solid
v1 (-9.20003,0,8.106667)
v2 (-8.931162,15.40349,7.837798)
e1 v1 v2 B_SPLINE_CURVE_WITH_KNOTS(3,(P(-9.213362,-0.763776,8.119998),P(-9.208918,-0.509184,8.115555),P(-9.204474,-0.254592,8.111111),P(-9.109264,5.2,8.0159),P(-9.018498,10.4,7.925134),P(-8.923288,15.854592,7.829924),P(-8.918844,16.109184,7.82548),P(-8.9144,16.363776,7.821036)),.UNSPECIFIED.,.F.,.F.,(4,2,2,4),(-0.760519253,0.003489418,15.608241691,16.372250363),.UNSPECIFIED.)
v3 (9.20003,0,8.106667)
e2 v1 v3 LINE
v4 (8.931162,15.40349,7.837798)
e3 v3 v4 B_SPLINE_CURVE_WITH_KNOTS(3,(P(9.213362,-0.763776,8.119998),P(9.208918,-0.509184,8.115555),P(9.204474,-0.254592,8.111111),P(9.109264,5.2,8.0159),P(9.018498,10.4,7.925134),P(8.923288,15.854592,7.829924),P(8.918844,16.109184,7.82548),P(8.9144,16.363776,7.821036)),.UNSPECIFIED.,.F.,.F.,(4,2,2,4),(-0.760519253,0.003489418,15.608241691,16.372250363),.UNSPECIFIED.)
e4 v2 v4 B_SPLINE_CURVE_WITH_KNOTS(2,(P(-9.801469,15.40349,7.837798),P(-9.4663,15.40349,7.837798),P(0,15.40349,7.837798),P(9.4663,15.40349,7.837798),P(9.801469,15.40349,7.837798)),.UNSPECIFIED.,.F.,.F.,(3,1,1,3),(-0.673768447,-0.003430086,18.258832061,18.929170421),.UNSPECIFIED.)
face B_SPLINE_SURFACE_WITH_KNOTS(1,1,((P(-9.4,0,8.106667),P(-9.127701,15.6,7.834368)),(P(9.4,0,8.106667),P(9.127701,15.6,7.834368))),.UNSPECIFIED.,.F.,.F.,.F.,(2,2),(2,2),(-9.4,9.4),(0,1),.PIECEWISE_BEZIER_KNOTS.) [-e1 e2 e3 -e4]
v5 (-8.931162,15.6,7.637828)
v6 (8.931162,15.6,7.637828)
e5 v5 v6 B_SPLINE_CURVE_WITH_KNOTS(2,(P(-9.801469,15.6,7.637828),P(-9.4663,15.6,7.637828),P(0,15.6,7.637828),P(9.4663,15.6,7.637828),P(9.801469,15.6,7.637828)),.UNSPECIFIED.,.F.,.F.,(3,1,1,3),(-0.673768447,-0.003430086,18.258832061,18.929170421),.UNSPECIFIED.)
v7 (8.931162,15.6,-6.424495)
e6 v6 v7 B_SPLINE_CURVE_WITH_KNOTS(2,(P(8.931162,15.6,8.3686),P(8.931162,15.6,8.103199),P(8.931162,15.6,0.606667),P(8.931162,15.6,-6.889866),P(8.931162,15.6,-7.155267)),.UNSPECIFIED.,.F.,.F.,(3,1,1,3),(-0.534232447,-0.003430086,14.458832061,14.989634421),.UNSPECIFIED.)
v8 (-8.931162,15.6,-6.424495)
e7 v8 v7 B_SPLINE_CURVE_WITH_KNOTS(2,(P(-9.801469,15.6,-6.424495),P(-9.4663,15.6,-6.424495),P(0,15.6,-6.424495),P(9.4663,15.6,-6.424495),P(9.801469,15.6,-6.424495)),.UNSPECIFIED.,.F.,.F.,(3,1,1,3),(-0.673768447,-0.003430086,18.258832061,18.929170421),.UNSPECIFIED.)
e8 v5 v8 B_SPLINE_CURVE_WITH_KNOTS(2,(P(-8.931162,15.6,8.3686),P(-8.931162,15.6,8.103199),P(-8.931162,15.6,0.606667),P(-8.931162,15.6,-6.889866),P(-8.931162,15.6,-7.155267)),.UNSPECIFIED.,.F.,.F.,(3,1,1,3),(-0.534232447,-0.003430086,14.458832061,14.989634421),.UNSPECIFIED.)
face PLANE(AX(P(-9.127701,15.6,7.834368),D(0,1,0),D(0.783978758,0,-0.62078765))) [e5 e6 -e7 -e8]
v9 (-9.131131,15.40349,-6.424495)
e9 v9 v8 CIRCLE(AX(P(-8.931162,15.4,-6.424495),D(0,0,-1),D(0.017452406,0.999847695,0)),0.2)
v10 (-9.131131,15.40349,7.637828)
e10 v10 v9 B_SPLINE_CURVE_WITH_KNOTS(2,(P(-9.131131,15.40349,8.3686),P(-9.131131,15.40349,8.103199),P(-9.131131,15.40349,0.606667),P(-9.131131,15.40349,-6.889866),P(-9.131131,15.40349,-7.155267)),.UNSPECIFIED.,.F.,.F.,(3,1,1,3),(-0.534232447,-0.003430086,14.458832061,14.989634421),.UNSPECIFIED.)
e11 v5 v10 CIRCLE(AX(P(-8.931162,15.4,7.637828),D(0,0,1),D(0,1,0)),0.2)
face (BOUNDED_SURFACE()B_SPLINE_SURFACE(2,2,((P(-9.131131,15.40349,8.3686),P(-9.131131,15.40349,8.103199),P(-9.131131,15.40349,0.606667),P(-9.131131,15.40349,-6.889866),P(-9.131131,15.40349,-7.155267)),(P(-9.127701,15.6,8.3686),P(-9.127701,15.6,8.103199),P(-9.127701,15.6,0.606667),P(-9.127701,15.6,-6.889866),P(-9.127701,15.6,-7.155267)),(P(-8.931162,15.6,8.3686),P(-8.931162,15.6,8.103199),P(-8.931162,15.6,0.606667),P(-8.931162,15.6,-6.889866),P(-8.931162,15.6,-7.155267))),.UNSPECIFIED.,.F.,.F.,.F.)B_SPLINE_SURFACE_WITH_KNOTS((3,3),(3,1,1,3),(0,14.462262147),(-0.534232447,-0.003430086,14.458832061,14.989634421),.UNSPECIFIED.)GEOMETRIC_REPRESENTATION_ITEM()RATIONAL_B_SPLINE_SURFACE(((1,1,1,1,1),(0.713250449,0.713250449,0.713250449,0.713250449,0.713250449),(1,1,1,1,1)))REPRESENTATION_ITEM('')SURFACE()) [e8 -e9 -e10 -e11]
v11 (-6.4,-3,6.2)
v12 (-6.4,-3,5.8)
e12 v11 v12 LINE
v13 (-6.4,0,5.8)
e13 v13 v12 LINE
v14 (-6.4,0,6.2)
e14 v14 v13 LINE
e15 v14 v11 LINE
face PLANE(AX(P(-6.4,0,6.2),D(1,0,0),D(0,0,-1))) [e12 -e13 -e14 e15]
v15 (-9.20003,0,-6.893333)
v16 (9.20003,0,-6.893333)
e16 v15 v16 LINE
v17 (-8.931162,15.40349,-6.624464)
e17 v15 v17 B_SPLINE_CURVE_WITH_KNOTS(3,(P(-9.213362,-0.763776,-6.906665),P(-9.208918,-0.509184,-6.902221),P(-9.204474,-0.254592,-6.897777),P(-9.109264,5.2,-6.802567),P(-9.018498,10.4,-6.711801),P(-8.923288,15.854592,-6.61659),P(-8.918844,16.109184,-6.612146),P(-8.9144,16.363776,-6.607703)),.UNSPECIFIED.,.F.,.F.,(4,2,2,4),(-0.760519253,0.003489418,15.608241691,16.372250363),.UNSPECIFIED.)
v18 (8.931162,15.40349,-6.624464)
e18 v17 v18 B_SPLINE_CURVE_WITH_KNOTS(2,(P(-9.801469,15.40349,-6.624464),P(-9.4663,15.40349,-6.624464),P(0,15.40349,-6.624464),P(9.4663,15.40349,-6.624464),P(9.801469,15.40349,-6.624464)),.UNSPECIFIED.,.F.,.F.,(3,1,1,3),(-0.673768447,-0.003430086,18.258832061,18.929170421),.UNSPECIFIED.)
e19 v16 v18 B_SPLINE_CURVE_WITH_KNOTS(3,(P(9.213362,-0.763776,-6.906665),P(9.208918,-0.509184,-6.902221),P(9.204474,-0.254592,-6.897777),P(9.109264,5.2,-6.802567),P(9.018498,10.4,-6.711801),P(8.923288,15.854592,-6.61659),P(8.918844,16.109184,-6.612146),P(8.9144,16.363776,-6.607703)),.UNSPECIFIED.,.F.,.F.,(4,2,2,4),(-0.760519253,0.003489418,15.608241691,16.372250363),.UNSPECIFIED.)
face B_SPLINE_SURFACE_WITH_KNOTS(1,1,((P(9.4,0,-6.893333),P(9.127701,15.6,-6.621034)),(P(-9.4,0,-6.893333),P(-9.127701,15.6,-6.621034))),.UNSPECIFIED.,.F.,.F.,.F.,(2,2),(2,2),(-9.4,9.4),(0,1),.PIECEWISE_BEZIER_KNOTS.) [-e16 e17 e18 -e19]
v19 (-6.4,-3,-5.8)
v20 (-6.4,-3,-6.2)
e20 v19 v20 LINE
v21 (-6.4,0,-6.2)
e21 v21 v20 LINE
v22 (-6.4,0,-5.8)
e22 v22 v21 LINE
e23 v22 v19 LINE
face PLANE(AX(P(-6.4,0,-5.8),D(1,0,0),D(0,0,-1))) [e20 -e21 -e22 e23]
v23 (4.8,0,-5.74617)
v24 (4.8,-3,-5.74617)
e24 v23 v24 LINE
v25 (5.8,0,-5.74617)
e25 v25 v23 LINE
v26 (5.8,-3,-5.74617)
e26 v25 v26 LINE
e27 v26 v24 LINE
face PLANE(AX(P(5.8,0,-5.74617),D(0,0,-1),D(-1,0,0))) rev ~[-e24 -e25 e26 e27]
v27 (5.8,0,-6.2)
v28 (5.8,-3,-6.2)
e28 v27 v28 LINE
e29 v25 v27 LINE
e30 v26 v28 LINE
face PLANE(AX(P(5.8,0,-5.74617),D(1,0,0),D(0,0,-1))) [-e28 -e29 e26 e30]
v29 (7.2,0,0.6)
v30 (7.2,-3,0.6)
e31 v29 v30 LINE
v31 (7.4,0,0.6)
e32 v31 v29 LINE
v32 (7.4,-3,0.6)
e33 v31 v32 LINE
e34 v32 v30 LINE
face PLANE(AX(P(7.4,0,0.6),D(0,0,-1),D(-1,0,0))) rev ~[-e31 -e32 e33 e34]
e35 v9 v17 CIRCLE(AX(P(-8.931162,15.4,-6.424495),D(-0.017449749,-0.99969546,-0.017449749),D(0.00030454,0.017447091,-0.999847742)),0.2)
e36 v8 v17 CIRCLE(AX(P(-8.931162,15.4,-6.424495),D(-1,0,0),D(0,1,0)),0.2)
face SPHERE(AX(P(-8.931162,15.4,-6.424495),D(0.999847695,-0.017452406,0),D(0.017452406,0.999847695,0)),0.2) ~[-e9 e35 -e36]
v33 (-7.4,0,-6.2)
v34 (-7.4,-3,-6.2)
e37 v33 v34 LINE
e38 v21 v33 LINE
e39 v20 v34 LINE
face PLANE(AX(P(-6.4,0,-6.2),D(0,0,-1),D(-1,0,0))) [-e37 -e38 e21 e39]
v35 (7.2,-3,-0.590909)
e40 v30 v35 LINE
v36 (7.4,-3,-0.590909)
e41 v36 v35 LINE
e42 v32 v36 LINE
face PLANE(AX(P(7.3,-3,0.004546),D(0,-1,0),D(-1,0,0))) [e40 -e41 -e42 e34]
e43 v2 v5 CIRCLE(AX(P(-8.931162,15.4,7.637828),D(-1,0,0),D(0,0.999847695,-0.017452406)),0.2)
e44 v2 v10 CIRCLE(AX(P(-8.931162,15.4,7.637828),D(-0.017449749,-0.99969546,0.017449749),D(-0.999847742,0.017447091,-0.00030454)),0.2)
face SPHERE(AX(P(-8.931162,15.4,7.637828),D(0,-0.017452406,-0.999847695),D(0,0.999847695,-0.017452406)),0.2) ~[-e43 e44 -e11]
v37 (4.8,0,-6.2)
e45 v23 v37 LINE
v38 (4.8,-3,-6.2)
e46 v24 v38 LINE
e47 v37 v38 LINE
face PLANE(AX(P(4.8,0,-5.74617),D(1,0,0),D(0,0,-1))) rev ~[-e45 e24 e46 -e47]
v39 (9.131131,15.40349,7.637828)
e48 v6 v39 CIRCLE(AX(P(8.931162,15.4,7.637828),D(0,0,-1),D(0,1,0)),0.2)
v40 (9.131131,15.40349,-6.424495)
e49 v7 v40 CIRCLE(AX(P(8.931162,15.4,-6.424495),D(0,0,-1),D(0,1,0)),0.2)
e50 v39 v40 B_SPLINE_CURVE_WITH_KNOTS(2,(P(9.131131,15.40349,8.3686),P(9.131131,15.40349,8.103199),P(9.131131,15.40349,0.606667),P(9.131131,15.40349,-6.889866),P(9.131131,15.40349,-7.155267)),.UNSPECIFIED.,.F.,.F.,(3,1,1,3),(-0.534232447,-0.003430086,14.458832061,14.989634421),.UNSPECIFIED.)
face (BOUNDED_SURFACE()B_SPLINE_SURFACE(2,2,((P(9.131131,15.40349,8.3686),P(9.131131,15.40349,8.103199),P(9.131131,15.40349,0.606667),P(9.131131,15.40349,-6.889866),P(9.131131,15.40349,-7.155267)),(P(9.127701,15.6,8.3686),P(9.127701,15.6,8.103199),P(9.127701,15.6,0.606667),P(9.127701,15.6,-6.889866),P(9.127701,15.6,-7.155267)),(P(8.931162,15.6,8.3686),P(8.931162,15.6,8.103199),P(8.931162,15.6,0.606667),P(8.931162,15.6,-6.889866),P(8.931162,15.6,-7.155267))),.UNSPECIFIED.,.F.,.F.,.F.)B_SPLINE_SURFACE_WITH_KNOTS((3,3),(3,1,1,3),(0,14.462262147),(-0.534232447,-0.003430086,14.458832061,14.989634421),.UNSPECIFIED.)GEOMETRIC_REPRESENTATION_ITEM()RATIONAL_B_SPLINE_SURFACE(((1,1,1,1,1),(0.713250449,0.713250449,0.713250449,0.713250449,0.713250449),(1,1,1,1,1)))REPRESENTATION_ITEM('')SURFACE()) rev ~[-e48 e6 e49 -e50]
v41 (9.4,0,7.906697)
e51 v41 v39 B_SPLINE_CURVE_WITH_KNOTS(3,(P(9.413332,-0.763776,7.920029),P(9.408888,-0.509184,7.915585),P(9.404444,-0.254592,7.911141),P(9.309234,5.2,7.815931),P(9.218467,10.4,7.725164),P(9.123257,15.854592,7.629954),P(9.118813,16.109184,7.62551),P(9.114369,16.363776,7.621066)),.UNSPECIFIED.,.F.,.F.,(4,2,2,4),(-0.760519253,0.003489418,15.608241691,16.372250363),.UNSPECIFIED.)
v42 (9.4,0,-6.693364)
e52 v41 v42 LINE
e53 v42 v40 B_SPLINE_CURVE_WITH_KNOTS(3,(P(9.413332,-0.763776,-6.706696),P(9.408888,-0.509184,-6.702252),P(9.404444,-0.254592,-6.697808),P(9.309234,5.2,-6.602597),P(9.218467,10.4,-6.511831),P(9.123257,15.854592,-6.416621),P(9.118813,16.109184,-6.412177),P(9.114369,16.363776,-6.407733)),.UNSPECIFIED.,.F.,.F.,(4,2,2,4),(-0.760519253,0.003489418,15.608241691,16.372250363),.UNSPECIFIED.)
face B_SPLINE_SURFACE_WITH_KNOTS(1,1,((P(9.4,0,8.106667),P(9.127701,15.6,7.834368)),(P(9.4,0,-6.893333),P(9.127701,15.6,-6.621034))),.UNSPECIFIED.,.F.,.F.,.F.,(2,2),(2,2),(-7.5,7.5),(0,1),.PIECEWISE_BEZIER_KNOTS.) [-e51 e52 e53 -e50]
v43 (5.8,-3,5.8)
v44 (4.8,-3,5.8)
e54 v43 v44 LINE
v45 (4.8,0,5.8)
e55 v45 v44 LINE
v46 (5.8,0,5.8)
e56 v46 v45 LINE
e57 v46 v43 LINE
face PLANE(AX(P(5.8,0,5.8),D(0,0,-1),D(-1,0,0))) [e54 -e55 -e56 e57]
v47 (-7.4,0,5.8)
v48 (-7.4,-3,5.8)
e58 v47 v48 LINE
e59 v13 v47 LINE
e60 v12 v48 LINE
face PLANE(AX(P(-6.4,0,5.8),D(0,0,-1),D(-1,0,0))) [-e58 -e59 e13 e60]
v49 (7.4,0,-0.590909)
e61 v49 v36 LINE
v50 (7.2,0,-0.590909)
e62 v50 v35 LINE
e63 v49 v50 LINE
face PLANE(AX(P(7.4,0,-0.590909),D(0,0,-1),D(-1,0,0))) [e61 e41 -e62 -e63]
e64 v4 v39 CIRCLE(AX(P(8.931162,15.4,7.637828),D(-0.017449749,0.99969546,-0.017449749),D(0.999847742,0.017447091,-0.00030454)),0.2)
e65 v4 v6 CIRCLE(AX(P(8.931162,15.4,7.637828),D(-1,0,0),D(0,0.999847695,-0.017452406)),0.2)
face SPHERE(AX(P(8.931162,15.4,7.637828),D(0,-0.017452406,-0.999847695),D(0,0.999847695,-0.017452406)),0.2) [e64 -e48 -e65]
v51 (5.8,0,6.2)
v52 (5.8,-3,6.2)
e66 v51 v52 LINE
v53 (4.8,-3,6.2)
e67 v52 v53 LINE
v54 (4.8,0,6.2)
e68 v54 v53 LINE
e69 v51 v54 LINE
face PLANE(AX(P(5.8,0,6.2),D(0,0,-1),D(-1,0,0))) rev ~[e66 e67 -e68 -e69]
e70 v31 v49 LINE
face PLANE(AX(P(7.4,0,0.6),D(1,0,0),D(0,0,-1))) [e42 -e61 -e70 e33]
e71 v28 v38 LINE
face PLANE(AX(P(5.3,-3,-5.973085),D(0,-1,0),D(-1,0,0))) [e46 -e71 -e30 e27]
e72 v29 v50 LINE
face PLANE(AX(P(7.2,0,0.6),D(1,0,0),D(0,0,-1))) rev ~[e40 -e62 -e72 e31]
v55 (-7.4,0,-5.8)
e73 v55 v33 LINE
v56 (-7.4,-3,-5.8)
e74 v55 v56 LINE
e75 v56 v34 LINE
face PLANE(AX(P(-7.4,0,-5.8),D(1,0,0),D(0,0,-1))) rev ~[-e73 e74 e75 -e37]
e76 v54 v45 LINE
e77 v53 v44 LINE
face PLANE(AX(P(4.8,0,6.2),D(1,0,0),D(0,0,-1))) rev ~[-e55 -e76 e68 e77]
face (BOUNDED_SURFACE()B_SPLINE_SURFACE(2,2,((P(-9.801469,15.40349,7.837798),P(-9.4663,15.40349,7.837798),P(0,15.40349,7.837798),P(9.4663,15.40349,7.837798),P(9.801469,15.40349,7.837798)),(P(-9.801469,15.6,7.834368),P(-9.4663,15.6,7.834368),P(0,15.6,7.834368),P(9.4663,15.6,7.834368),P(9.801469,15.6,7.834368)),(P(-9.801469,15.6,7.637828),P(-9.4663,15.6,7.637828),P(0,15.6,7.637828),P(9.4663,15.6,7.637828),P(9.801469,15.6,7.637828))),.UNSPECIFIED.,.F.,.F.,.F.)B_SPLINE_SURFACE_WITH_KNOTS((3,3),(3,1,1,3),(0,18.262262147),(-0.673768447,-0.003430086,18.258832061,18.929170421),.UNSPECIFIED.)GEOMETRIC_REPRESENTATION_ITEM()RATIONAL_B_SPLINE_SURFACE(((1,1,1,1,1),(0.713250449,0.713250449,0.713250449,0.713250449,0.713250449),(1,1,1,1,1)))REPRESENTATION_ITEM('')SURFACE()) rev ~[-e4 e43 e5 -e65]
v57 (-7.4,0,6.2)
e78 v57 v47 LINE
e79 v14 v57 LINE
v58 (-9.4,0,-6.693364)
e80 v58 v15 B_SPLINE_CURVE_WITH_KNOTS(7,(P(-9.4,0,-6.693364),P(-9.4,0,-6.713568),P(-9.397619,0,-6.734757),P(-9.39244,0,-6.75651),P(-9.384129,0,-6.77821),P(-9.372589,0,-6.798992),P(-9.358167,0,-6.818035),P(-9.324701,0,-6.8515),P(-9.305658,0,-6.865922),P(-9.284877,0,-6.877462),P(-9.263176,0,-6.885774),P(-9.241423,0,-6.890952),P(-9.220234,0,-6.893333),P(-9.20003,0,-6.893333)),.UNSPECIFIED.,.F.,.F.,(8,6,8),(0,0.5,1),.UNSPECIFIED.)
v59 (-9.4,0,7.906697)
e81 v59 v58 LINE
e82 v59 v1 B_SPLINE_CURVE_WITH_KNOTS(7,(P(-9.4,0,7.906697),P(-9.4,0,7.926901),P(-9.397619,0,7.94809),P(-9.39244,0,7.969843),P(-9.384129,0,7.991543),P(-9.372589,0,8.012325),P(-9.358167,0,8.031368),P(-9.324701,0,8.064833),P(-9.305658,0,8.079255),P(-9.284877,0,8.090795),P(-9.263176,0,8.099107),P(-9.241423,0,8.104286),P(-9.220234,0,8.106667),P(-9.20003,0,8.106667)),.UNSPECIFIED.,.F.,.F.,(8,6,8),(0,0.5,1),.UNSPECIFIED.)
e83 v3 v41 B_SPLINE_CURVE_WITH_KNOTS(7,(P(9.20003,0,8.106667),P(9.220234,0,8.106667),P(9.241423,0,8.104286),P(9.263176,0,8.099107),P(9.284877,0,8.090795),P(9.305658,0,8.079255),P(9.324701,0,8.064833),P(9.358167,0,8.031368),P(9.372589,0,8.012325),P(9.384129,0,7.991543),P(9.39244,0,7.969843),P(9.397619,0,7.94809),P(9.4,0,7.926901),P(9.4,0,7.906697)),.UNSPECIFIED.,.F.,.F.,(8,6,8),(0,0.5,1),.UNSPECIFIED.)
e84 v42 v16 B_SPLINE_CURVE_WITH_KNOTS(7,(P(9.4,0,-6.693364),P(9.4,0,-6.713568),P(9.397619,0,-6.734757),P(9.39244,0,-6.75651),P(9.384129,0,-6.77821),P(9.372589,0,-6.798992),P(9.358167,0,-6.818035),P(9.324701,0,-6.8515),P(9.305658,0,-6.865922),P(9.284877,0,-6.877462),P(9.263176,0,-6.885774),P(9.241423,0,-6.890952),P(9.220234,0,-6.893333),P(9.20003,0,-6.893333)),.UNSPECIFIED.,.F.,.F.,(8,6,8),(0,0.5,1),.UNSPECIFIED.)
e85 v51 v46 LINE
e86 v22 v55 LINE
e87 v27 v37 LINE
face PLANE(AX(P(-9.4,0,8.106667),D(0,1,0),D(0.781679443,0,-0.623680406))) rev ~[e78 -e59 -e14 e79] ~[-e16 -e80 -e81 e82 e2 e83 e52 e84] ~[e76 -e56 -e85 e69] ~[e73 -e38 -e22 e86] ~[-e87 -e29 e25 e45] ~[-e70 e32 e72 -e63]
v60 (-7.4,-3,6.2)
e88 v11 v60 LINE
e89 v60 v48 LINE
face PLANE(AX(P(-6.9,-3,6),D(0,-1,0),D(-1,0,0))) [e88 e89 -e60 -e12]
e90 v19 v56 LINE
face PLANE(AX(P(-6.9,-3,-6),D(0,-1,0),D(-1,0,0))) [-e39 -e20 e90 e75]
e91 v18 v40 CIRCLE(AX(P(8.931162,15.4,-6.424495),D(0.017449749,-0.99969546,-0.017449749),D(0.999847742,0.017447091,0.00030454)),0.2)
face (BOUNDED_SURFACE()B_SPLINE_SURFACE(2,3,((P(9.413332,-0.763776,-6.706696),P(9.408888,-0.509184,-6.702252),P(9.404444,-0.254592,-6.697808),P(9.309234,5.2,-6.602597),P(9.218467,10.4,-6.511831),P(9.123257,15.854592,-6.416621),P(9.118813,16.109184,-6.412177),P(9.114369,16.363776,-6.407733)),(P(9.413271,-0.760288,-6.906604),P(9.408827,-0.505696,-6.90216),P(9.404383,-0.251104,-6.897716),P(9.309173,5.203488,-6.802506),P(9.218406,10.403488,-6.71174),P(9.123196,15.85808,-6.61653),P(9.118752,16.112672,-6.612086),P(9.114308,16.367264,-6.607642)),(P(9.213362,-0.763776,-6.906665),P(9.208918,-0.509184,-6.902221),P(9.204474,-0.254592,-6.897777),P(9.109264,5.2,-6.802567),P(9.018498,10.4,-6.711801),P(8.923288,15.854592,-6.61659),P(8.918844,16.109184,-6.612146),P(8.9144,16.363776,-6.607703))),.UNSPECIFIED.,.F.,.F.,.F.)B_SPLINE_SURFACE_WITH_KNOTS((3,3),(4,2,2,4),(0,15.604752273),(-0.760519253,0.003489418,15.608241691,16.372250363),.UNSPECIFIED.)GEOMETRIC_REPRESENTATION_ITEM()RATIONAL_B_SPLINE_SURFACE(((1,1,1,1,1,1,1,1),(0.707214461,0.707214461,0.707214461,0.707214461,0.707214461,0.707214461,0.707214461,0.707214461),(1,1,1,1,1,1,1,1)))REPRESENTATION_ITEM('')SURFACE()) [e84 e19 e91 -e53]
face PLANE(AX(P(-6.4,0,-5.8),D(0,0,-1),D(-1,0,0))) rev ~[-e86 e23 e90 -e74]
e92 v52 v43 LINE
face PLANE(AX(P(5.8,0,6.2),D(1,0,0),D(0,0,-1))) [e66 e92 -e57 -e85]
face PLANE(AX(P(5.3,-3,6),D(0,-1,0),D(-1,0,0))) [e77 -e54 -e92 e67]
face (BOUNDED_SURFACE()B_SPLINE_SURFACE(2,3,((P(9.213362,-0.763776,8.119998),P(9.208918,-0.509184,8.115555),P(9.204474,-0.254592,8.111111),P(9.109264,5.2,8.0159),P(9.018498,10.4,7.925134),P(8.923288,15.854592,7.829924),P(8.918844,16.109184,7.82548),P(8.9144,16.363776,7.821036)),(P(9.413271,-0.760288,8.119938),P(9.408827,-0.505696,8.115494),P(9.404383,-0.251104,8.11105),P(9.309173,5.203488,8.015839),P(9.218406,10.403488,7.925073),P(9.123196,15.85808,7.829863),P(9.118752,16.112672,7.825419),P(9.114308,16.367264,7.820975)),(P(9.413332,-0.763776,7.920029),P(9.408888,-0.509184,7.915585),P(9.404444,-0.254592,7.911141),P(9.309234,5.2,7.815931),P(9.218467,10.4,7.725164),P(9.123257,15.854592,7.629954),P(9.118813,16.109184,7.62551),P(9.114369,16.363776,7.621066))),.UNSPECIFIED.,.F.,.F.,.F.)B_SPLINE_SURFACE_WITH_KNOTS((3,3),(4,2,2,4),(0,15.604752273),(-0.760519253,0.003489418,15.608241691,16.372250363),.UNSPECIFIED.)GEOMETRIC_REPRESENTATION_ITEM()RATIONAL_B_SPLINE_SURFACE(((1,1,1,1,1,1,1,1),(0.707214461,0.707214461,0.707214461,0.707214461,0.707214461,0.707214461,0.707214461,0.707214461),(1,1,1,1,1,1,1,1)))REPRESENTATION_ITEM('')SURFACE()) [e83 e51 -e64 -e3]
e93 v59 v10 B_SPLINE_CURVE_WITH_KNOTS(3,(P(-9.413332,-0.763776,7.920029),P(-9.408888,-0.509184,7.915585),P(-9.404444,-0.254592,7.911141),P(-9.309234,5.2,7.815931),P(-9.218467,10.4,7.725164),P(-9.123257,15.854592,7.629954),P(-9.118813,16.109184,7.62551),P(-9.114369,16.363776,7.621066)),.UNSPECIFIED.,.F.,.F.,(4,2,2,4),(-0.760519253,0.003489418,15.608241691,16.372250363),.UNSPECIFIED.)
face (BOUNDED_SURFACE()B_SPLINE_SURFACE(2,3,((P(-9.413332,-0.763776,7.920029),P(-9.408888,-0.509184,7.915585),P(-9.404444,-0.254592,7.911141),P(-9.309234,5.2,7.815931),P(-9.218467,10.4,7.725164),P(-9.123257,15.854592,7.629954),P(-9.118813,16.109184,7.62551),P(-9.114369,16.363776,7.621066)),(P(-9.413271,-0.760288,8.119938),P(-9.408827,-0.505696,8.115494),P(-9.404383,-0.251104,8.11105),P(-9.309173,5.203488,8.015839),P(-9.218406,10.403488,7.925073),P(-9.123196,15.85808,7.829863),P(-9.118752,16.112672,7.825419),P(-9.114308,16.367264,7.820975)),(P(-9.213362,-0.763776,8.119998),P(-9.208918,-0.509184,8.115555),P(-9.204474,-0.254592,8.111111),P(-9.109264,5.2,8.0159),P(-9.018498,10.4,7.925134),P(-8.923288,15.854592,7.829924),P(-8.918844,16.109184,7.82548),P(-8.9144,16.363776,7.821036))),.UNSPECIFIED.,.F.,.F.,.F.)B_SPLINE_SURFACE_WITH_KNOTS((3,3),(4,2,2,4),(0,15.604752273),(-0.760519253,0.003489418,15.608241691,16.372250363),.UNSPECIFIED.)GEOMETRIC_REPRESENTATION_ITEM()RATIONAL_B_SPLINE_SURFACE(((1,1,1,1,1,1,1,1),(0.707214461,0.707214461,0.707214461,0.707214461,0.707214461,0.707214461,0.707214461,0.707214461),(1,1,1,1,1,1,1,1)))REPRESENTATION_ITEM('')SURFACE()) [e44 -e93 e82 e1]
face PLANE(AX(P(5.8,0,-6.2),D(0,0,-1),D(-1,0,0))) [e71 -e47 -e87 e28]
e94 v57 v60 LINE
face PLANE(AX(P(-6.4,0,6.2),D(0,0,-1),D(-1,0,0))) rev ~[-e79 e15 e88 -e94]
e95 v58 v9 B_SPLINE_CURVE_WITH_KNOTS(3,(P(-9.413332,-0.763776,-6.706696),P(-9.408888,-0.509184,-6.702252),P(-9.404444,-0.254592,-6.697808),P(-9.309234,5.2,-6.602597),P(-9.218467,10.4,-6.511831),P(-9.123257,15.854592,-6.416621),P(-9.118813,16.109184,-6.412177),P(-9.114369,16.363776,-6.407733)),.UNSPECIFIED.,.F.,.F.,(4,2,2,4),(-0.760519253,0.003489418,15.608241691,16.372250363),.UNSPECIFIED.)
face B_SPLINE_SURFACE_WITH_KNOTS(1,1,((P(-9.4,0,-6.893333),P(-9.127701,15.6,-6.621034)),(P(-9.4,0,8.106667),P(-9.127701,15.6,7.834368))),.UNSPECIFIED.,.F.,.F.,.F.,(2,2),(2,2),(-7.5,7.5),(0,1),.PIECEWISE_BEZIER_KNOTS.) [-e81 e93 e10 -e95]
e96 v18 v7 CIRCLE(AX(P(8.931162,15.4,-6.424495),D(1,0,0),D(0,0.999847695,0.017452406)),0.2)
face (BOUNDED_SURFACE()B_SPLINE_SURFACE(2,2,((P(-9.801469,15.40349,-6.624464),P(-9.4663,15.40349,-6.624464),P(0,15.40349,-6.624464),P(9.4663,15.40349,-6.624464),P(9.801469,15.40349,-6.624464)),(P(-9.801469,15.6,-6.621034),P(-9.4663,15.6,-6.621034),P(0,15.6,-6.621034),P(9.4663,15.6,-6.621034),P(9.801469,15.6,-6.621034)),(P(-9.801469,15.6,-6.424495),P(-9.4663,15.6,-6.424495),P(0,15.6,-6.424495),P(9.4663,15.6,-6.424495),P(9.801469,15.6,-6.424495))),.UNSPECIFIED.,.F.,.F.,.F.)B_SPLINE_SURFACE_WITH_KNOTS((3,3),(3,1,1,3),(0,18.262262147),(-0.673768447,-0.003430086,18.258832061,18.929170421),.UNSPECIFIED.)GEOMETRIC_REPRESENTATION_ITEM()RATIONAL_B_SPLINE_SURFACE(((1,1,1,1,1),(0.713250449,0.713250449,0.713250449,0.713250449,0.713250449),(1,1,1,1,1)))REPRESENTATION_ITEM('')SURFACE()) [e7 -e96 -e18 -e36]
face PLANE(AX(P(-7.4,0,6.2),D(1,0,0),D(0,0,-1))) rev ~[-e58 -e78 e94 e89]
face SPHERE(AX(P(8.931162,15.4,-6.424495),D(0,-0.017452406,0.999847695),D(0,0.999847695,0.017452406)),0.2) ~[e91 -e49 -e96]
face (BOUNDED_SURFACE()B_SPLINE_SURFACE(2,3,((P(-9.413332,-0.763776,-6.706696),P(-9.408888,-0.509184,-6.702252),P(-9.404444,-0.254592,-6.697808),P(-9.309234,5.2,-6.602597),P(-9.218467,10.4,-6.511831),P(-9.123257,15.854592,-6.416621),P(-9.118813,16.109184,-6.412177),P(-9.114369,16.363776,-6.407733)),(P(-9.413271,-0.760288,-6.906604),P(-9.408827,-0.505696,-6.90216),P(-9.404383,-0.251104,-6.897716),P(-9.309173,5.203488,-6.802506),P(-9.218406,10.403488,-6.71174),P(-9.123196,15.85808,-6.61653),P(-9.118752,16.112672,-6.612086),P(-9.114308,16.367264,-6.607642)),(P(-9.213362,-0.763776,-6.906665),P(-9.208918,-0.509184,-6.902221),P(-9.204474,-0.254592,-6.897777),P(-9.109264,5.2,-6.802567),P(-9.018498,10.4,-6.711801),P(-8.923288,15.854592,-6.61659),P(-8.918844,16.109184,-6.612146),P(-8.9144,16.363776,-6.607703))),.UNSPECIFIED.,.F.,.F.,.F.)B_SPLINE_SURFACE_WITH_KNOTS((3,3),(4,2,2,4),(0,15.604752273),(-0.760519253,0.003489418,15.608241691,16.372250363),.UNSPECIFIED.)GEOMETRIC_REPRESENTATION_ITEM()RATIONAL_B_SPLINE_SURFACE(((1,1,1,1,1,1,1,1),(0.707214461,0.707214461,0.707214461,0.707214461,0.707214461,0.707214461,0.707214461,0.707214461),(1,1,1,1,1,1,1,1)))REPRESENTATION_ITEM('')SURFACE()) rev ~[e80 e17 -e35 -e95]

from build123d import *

# Parameters (mm, degrees)
SKETCH1_W           = 18.8
SKETCH1_H           = 15
BOSS_EXTRUDE1_DEPTH = 15.6
BOSS_EXTRUDE1_TAPER = 1
FILLET1_R           = 0.2
SKETCH2_W           = 1
SKETCH2_H           = 0.4
SKETCH2_W_2         = 0.2
SKETCH2_H_2         = 1.190908677
SKETCH2_H_3         = 0.45383017
BOSS_EXTRUDE2_DEPTH = 3


with BuildPart() as part:
    # Sketch1 → Boss-Extrude1 (new body)
    with BuildSketch(Plane(origin=(0, 0, 0), x_dir=(1, 0, 0), z_dir=(0, 1, 0))):
        with Locations((0, -0.606666667)):
            Rectangle(SKETCH1_W, SKETCH1_H)
    extrude(amount=BOSS_EXTRUDE1_DEPTH, taper=BOSS_EXTRUDE1_TAPER)

    # Fillet1
    fillet1_edges = [part.edges().sort_by_distance(p)[0] for p in [
        (9.127700987, 15.6, 0.606666667),
        (0, 15.6, -6.62103432),
        (-9.127700987, 15.6, 0.606666667),
        (0, 15.6, 7.834367654),
        (-9.263850494, 7.8, -6.757183827),
        (9.263850494, 7.8, -6.757183827),
        (9.263850494, 7.8, 7.97051716),
        (-9.263850494, 7.8, 7.97051716),
    ]]
    fillet(fillet1_edges, radius=FILLET1_R)

    # Sketch2 → Boss-Extrude2 (add)
    with BuildSketch(Plane(origin=(0, 0, 0), x_dir=(-1, 0, 0), z_dir=(0, -1, 0))):
        with Locations((-5.3, -6)):
            Rectangle(SKETCH2_W, SKETCH2_H)
        with Locations((-7.3, -0.004545662)):
            Rectangle(SKETCH2_W_2, SKETCH2_H_2)
        with Locations((6.9, -6)):
            Rectangle(SKETCH2_W, SKETCH2_H)
        with Locations((-5.3, 5.973084915)):
            Rectangle(SKETCH2_W, SKETCH2_H_3)
        with Locations((6.9, 6)):
            Rectangle(SKETCH2_W, SKETCH2_H)
    extrude(amount=BOSS_EXTRUDE2_DEPTH)


solid = part.part
